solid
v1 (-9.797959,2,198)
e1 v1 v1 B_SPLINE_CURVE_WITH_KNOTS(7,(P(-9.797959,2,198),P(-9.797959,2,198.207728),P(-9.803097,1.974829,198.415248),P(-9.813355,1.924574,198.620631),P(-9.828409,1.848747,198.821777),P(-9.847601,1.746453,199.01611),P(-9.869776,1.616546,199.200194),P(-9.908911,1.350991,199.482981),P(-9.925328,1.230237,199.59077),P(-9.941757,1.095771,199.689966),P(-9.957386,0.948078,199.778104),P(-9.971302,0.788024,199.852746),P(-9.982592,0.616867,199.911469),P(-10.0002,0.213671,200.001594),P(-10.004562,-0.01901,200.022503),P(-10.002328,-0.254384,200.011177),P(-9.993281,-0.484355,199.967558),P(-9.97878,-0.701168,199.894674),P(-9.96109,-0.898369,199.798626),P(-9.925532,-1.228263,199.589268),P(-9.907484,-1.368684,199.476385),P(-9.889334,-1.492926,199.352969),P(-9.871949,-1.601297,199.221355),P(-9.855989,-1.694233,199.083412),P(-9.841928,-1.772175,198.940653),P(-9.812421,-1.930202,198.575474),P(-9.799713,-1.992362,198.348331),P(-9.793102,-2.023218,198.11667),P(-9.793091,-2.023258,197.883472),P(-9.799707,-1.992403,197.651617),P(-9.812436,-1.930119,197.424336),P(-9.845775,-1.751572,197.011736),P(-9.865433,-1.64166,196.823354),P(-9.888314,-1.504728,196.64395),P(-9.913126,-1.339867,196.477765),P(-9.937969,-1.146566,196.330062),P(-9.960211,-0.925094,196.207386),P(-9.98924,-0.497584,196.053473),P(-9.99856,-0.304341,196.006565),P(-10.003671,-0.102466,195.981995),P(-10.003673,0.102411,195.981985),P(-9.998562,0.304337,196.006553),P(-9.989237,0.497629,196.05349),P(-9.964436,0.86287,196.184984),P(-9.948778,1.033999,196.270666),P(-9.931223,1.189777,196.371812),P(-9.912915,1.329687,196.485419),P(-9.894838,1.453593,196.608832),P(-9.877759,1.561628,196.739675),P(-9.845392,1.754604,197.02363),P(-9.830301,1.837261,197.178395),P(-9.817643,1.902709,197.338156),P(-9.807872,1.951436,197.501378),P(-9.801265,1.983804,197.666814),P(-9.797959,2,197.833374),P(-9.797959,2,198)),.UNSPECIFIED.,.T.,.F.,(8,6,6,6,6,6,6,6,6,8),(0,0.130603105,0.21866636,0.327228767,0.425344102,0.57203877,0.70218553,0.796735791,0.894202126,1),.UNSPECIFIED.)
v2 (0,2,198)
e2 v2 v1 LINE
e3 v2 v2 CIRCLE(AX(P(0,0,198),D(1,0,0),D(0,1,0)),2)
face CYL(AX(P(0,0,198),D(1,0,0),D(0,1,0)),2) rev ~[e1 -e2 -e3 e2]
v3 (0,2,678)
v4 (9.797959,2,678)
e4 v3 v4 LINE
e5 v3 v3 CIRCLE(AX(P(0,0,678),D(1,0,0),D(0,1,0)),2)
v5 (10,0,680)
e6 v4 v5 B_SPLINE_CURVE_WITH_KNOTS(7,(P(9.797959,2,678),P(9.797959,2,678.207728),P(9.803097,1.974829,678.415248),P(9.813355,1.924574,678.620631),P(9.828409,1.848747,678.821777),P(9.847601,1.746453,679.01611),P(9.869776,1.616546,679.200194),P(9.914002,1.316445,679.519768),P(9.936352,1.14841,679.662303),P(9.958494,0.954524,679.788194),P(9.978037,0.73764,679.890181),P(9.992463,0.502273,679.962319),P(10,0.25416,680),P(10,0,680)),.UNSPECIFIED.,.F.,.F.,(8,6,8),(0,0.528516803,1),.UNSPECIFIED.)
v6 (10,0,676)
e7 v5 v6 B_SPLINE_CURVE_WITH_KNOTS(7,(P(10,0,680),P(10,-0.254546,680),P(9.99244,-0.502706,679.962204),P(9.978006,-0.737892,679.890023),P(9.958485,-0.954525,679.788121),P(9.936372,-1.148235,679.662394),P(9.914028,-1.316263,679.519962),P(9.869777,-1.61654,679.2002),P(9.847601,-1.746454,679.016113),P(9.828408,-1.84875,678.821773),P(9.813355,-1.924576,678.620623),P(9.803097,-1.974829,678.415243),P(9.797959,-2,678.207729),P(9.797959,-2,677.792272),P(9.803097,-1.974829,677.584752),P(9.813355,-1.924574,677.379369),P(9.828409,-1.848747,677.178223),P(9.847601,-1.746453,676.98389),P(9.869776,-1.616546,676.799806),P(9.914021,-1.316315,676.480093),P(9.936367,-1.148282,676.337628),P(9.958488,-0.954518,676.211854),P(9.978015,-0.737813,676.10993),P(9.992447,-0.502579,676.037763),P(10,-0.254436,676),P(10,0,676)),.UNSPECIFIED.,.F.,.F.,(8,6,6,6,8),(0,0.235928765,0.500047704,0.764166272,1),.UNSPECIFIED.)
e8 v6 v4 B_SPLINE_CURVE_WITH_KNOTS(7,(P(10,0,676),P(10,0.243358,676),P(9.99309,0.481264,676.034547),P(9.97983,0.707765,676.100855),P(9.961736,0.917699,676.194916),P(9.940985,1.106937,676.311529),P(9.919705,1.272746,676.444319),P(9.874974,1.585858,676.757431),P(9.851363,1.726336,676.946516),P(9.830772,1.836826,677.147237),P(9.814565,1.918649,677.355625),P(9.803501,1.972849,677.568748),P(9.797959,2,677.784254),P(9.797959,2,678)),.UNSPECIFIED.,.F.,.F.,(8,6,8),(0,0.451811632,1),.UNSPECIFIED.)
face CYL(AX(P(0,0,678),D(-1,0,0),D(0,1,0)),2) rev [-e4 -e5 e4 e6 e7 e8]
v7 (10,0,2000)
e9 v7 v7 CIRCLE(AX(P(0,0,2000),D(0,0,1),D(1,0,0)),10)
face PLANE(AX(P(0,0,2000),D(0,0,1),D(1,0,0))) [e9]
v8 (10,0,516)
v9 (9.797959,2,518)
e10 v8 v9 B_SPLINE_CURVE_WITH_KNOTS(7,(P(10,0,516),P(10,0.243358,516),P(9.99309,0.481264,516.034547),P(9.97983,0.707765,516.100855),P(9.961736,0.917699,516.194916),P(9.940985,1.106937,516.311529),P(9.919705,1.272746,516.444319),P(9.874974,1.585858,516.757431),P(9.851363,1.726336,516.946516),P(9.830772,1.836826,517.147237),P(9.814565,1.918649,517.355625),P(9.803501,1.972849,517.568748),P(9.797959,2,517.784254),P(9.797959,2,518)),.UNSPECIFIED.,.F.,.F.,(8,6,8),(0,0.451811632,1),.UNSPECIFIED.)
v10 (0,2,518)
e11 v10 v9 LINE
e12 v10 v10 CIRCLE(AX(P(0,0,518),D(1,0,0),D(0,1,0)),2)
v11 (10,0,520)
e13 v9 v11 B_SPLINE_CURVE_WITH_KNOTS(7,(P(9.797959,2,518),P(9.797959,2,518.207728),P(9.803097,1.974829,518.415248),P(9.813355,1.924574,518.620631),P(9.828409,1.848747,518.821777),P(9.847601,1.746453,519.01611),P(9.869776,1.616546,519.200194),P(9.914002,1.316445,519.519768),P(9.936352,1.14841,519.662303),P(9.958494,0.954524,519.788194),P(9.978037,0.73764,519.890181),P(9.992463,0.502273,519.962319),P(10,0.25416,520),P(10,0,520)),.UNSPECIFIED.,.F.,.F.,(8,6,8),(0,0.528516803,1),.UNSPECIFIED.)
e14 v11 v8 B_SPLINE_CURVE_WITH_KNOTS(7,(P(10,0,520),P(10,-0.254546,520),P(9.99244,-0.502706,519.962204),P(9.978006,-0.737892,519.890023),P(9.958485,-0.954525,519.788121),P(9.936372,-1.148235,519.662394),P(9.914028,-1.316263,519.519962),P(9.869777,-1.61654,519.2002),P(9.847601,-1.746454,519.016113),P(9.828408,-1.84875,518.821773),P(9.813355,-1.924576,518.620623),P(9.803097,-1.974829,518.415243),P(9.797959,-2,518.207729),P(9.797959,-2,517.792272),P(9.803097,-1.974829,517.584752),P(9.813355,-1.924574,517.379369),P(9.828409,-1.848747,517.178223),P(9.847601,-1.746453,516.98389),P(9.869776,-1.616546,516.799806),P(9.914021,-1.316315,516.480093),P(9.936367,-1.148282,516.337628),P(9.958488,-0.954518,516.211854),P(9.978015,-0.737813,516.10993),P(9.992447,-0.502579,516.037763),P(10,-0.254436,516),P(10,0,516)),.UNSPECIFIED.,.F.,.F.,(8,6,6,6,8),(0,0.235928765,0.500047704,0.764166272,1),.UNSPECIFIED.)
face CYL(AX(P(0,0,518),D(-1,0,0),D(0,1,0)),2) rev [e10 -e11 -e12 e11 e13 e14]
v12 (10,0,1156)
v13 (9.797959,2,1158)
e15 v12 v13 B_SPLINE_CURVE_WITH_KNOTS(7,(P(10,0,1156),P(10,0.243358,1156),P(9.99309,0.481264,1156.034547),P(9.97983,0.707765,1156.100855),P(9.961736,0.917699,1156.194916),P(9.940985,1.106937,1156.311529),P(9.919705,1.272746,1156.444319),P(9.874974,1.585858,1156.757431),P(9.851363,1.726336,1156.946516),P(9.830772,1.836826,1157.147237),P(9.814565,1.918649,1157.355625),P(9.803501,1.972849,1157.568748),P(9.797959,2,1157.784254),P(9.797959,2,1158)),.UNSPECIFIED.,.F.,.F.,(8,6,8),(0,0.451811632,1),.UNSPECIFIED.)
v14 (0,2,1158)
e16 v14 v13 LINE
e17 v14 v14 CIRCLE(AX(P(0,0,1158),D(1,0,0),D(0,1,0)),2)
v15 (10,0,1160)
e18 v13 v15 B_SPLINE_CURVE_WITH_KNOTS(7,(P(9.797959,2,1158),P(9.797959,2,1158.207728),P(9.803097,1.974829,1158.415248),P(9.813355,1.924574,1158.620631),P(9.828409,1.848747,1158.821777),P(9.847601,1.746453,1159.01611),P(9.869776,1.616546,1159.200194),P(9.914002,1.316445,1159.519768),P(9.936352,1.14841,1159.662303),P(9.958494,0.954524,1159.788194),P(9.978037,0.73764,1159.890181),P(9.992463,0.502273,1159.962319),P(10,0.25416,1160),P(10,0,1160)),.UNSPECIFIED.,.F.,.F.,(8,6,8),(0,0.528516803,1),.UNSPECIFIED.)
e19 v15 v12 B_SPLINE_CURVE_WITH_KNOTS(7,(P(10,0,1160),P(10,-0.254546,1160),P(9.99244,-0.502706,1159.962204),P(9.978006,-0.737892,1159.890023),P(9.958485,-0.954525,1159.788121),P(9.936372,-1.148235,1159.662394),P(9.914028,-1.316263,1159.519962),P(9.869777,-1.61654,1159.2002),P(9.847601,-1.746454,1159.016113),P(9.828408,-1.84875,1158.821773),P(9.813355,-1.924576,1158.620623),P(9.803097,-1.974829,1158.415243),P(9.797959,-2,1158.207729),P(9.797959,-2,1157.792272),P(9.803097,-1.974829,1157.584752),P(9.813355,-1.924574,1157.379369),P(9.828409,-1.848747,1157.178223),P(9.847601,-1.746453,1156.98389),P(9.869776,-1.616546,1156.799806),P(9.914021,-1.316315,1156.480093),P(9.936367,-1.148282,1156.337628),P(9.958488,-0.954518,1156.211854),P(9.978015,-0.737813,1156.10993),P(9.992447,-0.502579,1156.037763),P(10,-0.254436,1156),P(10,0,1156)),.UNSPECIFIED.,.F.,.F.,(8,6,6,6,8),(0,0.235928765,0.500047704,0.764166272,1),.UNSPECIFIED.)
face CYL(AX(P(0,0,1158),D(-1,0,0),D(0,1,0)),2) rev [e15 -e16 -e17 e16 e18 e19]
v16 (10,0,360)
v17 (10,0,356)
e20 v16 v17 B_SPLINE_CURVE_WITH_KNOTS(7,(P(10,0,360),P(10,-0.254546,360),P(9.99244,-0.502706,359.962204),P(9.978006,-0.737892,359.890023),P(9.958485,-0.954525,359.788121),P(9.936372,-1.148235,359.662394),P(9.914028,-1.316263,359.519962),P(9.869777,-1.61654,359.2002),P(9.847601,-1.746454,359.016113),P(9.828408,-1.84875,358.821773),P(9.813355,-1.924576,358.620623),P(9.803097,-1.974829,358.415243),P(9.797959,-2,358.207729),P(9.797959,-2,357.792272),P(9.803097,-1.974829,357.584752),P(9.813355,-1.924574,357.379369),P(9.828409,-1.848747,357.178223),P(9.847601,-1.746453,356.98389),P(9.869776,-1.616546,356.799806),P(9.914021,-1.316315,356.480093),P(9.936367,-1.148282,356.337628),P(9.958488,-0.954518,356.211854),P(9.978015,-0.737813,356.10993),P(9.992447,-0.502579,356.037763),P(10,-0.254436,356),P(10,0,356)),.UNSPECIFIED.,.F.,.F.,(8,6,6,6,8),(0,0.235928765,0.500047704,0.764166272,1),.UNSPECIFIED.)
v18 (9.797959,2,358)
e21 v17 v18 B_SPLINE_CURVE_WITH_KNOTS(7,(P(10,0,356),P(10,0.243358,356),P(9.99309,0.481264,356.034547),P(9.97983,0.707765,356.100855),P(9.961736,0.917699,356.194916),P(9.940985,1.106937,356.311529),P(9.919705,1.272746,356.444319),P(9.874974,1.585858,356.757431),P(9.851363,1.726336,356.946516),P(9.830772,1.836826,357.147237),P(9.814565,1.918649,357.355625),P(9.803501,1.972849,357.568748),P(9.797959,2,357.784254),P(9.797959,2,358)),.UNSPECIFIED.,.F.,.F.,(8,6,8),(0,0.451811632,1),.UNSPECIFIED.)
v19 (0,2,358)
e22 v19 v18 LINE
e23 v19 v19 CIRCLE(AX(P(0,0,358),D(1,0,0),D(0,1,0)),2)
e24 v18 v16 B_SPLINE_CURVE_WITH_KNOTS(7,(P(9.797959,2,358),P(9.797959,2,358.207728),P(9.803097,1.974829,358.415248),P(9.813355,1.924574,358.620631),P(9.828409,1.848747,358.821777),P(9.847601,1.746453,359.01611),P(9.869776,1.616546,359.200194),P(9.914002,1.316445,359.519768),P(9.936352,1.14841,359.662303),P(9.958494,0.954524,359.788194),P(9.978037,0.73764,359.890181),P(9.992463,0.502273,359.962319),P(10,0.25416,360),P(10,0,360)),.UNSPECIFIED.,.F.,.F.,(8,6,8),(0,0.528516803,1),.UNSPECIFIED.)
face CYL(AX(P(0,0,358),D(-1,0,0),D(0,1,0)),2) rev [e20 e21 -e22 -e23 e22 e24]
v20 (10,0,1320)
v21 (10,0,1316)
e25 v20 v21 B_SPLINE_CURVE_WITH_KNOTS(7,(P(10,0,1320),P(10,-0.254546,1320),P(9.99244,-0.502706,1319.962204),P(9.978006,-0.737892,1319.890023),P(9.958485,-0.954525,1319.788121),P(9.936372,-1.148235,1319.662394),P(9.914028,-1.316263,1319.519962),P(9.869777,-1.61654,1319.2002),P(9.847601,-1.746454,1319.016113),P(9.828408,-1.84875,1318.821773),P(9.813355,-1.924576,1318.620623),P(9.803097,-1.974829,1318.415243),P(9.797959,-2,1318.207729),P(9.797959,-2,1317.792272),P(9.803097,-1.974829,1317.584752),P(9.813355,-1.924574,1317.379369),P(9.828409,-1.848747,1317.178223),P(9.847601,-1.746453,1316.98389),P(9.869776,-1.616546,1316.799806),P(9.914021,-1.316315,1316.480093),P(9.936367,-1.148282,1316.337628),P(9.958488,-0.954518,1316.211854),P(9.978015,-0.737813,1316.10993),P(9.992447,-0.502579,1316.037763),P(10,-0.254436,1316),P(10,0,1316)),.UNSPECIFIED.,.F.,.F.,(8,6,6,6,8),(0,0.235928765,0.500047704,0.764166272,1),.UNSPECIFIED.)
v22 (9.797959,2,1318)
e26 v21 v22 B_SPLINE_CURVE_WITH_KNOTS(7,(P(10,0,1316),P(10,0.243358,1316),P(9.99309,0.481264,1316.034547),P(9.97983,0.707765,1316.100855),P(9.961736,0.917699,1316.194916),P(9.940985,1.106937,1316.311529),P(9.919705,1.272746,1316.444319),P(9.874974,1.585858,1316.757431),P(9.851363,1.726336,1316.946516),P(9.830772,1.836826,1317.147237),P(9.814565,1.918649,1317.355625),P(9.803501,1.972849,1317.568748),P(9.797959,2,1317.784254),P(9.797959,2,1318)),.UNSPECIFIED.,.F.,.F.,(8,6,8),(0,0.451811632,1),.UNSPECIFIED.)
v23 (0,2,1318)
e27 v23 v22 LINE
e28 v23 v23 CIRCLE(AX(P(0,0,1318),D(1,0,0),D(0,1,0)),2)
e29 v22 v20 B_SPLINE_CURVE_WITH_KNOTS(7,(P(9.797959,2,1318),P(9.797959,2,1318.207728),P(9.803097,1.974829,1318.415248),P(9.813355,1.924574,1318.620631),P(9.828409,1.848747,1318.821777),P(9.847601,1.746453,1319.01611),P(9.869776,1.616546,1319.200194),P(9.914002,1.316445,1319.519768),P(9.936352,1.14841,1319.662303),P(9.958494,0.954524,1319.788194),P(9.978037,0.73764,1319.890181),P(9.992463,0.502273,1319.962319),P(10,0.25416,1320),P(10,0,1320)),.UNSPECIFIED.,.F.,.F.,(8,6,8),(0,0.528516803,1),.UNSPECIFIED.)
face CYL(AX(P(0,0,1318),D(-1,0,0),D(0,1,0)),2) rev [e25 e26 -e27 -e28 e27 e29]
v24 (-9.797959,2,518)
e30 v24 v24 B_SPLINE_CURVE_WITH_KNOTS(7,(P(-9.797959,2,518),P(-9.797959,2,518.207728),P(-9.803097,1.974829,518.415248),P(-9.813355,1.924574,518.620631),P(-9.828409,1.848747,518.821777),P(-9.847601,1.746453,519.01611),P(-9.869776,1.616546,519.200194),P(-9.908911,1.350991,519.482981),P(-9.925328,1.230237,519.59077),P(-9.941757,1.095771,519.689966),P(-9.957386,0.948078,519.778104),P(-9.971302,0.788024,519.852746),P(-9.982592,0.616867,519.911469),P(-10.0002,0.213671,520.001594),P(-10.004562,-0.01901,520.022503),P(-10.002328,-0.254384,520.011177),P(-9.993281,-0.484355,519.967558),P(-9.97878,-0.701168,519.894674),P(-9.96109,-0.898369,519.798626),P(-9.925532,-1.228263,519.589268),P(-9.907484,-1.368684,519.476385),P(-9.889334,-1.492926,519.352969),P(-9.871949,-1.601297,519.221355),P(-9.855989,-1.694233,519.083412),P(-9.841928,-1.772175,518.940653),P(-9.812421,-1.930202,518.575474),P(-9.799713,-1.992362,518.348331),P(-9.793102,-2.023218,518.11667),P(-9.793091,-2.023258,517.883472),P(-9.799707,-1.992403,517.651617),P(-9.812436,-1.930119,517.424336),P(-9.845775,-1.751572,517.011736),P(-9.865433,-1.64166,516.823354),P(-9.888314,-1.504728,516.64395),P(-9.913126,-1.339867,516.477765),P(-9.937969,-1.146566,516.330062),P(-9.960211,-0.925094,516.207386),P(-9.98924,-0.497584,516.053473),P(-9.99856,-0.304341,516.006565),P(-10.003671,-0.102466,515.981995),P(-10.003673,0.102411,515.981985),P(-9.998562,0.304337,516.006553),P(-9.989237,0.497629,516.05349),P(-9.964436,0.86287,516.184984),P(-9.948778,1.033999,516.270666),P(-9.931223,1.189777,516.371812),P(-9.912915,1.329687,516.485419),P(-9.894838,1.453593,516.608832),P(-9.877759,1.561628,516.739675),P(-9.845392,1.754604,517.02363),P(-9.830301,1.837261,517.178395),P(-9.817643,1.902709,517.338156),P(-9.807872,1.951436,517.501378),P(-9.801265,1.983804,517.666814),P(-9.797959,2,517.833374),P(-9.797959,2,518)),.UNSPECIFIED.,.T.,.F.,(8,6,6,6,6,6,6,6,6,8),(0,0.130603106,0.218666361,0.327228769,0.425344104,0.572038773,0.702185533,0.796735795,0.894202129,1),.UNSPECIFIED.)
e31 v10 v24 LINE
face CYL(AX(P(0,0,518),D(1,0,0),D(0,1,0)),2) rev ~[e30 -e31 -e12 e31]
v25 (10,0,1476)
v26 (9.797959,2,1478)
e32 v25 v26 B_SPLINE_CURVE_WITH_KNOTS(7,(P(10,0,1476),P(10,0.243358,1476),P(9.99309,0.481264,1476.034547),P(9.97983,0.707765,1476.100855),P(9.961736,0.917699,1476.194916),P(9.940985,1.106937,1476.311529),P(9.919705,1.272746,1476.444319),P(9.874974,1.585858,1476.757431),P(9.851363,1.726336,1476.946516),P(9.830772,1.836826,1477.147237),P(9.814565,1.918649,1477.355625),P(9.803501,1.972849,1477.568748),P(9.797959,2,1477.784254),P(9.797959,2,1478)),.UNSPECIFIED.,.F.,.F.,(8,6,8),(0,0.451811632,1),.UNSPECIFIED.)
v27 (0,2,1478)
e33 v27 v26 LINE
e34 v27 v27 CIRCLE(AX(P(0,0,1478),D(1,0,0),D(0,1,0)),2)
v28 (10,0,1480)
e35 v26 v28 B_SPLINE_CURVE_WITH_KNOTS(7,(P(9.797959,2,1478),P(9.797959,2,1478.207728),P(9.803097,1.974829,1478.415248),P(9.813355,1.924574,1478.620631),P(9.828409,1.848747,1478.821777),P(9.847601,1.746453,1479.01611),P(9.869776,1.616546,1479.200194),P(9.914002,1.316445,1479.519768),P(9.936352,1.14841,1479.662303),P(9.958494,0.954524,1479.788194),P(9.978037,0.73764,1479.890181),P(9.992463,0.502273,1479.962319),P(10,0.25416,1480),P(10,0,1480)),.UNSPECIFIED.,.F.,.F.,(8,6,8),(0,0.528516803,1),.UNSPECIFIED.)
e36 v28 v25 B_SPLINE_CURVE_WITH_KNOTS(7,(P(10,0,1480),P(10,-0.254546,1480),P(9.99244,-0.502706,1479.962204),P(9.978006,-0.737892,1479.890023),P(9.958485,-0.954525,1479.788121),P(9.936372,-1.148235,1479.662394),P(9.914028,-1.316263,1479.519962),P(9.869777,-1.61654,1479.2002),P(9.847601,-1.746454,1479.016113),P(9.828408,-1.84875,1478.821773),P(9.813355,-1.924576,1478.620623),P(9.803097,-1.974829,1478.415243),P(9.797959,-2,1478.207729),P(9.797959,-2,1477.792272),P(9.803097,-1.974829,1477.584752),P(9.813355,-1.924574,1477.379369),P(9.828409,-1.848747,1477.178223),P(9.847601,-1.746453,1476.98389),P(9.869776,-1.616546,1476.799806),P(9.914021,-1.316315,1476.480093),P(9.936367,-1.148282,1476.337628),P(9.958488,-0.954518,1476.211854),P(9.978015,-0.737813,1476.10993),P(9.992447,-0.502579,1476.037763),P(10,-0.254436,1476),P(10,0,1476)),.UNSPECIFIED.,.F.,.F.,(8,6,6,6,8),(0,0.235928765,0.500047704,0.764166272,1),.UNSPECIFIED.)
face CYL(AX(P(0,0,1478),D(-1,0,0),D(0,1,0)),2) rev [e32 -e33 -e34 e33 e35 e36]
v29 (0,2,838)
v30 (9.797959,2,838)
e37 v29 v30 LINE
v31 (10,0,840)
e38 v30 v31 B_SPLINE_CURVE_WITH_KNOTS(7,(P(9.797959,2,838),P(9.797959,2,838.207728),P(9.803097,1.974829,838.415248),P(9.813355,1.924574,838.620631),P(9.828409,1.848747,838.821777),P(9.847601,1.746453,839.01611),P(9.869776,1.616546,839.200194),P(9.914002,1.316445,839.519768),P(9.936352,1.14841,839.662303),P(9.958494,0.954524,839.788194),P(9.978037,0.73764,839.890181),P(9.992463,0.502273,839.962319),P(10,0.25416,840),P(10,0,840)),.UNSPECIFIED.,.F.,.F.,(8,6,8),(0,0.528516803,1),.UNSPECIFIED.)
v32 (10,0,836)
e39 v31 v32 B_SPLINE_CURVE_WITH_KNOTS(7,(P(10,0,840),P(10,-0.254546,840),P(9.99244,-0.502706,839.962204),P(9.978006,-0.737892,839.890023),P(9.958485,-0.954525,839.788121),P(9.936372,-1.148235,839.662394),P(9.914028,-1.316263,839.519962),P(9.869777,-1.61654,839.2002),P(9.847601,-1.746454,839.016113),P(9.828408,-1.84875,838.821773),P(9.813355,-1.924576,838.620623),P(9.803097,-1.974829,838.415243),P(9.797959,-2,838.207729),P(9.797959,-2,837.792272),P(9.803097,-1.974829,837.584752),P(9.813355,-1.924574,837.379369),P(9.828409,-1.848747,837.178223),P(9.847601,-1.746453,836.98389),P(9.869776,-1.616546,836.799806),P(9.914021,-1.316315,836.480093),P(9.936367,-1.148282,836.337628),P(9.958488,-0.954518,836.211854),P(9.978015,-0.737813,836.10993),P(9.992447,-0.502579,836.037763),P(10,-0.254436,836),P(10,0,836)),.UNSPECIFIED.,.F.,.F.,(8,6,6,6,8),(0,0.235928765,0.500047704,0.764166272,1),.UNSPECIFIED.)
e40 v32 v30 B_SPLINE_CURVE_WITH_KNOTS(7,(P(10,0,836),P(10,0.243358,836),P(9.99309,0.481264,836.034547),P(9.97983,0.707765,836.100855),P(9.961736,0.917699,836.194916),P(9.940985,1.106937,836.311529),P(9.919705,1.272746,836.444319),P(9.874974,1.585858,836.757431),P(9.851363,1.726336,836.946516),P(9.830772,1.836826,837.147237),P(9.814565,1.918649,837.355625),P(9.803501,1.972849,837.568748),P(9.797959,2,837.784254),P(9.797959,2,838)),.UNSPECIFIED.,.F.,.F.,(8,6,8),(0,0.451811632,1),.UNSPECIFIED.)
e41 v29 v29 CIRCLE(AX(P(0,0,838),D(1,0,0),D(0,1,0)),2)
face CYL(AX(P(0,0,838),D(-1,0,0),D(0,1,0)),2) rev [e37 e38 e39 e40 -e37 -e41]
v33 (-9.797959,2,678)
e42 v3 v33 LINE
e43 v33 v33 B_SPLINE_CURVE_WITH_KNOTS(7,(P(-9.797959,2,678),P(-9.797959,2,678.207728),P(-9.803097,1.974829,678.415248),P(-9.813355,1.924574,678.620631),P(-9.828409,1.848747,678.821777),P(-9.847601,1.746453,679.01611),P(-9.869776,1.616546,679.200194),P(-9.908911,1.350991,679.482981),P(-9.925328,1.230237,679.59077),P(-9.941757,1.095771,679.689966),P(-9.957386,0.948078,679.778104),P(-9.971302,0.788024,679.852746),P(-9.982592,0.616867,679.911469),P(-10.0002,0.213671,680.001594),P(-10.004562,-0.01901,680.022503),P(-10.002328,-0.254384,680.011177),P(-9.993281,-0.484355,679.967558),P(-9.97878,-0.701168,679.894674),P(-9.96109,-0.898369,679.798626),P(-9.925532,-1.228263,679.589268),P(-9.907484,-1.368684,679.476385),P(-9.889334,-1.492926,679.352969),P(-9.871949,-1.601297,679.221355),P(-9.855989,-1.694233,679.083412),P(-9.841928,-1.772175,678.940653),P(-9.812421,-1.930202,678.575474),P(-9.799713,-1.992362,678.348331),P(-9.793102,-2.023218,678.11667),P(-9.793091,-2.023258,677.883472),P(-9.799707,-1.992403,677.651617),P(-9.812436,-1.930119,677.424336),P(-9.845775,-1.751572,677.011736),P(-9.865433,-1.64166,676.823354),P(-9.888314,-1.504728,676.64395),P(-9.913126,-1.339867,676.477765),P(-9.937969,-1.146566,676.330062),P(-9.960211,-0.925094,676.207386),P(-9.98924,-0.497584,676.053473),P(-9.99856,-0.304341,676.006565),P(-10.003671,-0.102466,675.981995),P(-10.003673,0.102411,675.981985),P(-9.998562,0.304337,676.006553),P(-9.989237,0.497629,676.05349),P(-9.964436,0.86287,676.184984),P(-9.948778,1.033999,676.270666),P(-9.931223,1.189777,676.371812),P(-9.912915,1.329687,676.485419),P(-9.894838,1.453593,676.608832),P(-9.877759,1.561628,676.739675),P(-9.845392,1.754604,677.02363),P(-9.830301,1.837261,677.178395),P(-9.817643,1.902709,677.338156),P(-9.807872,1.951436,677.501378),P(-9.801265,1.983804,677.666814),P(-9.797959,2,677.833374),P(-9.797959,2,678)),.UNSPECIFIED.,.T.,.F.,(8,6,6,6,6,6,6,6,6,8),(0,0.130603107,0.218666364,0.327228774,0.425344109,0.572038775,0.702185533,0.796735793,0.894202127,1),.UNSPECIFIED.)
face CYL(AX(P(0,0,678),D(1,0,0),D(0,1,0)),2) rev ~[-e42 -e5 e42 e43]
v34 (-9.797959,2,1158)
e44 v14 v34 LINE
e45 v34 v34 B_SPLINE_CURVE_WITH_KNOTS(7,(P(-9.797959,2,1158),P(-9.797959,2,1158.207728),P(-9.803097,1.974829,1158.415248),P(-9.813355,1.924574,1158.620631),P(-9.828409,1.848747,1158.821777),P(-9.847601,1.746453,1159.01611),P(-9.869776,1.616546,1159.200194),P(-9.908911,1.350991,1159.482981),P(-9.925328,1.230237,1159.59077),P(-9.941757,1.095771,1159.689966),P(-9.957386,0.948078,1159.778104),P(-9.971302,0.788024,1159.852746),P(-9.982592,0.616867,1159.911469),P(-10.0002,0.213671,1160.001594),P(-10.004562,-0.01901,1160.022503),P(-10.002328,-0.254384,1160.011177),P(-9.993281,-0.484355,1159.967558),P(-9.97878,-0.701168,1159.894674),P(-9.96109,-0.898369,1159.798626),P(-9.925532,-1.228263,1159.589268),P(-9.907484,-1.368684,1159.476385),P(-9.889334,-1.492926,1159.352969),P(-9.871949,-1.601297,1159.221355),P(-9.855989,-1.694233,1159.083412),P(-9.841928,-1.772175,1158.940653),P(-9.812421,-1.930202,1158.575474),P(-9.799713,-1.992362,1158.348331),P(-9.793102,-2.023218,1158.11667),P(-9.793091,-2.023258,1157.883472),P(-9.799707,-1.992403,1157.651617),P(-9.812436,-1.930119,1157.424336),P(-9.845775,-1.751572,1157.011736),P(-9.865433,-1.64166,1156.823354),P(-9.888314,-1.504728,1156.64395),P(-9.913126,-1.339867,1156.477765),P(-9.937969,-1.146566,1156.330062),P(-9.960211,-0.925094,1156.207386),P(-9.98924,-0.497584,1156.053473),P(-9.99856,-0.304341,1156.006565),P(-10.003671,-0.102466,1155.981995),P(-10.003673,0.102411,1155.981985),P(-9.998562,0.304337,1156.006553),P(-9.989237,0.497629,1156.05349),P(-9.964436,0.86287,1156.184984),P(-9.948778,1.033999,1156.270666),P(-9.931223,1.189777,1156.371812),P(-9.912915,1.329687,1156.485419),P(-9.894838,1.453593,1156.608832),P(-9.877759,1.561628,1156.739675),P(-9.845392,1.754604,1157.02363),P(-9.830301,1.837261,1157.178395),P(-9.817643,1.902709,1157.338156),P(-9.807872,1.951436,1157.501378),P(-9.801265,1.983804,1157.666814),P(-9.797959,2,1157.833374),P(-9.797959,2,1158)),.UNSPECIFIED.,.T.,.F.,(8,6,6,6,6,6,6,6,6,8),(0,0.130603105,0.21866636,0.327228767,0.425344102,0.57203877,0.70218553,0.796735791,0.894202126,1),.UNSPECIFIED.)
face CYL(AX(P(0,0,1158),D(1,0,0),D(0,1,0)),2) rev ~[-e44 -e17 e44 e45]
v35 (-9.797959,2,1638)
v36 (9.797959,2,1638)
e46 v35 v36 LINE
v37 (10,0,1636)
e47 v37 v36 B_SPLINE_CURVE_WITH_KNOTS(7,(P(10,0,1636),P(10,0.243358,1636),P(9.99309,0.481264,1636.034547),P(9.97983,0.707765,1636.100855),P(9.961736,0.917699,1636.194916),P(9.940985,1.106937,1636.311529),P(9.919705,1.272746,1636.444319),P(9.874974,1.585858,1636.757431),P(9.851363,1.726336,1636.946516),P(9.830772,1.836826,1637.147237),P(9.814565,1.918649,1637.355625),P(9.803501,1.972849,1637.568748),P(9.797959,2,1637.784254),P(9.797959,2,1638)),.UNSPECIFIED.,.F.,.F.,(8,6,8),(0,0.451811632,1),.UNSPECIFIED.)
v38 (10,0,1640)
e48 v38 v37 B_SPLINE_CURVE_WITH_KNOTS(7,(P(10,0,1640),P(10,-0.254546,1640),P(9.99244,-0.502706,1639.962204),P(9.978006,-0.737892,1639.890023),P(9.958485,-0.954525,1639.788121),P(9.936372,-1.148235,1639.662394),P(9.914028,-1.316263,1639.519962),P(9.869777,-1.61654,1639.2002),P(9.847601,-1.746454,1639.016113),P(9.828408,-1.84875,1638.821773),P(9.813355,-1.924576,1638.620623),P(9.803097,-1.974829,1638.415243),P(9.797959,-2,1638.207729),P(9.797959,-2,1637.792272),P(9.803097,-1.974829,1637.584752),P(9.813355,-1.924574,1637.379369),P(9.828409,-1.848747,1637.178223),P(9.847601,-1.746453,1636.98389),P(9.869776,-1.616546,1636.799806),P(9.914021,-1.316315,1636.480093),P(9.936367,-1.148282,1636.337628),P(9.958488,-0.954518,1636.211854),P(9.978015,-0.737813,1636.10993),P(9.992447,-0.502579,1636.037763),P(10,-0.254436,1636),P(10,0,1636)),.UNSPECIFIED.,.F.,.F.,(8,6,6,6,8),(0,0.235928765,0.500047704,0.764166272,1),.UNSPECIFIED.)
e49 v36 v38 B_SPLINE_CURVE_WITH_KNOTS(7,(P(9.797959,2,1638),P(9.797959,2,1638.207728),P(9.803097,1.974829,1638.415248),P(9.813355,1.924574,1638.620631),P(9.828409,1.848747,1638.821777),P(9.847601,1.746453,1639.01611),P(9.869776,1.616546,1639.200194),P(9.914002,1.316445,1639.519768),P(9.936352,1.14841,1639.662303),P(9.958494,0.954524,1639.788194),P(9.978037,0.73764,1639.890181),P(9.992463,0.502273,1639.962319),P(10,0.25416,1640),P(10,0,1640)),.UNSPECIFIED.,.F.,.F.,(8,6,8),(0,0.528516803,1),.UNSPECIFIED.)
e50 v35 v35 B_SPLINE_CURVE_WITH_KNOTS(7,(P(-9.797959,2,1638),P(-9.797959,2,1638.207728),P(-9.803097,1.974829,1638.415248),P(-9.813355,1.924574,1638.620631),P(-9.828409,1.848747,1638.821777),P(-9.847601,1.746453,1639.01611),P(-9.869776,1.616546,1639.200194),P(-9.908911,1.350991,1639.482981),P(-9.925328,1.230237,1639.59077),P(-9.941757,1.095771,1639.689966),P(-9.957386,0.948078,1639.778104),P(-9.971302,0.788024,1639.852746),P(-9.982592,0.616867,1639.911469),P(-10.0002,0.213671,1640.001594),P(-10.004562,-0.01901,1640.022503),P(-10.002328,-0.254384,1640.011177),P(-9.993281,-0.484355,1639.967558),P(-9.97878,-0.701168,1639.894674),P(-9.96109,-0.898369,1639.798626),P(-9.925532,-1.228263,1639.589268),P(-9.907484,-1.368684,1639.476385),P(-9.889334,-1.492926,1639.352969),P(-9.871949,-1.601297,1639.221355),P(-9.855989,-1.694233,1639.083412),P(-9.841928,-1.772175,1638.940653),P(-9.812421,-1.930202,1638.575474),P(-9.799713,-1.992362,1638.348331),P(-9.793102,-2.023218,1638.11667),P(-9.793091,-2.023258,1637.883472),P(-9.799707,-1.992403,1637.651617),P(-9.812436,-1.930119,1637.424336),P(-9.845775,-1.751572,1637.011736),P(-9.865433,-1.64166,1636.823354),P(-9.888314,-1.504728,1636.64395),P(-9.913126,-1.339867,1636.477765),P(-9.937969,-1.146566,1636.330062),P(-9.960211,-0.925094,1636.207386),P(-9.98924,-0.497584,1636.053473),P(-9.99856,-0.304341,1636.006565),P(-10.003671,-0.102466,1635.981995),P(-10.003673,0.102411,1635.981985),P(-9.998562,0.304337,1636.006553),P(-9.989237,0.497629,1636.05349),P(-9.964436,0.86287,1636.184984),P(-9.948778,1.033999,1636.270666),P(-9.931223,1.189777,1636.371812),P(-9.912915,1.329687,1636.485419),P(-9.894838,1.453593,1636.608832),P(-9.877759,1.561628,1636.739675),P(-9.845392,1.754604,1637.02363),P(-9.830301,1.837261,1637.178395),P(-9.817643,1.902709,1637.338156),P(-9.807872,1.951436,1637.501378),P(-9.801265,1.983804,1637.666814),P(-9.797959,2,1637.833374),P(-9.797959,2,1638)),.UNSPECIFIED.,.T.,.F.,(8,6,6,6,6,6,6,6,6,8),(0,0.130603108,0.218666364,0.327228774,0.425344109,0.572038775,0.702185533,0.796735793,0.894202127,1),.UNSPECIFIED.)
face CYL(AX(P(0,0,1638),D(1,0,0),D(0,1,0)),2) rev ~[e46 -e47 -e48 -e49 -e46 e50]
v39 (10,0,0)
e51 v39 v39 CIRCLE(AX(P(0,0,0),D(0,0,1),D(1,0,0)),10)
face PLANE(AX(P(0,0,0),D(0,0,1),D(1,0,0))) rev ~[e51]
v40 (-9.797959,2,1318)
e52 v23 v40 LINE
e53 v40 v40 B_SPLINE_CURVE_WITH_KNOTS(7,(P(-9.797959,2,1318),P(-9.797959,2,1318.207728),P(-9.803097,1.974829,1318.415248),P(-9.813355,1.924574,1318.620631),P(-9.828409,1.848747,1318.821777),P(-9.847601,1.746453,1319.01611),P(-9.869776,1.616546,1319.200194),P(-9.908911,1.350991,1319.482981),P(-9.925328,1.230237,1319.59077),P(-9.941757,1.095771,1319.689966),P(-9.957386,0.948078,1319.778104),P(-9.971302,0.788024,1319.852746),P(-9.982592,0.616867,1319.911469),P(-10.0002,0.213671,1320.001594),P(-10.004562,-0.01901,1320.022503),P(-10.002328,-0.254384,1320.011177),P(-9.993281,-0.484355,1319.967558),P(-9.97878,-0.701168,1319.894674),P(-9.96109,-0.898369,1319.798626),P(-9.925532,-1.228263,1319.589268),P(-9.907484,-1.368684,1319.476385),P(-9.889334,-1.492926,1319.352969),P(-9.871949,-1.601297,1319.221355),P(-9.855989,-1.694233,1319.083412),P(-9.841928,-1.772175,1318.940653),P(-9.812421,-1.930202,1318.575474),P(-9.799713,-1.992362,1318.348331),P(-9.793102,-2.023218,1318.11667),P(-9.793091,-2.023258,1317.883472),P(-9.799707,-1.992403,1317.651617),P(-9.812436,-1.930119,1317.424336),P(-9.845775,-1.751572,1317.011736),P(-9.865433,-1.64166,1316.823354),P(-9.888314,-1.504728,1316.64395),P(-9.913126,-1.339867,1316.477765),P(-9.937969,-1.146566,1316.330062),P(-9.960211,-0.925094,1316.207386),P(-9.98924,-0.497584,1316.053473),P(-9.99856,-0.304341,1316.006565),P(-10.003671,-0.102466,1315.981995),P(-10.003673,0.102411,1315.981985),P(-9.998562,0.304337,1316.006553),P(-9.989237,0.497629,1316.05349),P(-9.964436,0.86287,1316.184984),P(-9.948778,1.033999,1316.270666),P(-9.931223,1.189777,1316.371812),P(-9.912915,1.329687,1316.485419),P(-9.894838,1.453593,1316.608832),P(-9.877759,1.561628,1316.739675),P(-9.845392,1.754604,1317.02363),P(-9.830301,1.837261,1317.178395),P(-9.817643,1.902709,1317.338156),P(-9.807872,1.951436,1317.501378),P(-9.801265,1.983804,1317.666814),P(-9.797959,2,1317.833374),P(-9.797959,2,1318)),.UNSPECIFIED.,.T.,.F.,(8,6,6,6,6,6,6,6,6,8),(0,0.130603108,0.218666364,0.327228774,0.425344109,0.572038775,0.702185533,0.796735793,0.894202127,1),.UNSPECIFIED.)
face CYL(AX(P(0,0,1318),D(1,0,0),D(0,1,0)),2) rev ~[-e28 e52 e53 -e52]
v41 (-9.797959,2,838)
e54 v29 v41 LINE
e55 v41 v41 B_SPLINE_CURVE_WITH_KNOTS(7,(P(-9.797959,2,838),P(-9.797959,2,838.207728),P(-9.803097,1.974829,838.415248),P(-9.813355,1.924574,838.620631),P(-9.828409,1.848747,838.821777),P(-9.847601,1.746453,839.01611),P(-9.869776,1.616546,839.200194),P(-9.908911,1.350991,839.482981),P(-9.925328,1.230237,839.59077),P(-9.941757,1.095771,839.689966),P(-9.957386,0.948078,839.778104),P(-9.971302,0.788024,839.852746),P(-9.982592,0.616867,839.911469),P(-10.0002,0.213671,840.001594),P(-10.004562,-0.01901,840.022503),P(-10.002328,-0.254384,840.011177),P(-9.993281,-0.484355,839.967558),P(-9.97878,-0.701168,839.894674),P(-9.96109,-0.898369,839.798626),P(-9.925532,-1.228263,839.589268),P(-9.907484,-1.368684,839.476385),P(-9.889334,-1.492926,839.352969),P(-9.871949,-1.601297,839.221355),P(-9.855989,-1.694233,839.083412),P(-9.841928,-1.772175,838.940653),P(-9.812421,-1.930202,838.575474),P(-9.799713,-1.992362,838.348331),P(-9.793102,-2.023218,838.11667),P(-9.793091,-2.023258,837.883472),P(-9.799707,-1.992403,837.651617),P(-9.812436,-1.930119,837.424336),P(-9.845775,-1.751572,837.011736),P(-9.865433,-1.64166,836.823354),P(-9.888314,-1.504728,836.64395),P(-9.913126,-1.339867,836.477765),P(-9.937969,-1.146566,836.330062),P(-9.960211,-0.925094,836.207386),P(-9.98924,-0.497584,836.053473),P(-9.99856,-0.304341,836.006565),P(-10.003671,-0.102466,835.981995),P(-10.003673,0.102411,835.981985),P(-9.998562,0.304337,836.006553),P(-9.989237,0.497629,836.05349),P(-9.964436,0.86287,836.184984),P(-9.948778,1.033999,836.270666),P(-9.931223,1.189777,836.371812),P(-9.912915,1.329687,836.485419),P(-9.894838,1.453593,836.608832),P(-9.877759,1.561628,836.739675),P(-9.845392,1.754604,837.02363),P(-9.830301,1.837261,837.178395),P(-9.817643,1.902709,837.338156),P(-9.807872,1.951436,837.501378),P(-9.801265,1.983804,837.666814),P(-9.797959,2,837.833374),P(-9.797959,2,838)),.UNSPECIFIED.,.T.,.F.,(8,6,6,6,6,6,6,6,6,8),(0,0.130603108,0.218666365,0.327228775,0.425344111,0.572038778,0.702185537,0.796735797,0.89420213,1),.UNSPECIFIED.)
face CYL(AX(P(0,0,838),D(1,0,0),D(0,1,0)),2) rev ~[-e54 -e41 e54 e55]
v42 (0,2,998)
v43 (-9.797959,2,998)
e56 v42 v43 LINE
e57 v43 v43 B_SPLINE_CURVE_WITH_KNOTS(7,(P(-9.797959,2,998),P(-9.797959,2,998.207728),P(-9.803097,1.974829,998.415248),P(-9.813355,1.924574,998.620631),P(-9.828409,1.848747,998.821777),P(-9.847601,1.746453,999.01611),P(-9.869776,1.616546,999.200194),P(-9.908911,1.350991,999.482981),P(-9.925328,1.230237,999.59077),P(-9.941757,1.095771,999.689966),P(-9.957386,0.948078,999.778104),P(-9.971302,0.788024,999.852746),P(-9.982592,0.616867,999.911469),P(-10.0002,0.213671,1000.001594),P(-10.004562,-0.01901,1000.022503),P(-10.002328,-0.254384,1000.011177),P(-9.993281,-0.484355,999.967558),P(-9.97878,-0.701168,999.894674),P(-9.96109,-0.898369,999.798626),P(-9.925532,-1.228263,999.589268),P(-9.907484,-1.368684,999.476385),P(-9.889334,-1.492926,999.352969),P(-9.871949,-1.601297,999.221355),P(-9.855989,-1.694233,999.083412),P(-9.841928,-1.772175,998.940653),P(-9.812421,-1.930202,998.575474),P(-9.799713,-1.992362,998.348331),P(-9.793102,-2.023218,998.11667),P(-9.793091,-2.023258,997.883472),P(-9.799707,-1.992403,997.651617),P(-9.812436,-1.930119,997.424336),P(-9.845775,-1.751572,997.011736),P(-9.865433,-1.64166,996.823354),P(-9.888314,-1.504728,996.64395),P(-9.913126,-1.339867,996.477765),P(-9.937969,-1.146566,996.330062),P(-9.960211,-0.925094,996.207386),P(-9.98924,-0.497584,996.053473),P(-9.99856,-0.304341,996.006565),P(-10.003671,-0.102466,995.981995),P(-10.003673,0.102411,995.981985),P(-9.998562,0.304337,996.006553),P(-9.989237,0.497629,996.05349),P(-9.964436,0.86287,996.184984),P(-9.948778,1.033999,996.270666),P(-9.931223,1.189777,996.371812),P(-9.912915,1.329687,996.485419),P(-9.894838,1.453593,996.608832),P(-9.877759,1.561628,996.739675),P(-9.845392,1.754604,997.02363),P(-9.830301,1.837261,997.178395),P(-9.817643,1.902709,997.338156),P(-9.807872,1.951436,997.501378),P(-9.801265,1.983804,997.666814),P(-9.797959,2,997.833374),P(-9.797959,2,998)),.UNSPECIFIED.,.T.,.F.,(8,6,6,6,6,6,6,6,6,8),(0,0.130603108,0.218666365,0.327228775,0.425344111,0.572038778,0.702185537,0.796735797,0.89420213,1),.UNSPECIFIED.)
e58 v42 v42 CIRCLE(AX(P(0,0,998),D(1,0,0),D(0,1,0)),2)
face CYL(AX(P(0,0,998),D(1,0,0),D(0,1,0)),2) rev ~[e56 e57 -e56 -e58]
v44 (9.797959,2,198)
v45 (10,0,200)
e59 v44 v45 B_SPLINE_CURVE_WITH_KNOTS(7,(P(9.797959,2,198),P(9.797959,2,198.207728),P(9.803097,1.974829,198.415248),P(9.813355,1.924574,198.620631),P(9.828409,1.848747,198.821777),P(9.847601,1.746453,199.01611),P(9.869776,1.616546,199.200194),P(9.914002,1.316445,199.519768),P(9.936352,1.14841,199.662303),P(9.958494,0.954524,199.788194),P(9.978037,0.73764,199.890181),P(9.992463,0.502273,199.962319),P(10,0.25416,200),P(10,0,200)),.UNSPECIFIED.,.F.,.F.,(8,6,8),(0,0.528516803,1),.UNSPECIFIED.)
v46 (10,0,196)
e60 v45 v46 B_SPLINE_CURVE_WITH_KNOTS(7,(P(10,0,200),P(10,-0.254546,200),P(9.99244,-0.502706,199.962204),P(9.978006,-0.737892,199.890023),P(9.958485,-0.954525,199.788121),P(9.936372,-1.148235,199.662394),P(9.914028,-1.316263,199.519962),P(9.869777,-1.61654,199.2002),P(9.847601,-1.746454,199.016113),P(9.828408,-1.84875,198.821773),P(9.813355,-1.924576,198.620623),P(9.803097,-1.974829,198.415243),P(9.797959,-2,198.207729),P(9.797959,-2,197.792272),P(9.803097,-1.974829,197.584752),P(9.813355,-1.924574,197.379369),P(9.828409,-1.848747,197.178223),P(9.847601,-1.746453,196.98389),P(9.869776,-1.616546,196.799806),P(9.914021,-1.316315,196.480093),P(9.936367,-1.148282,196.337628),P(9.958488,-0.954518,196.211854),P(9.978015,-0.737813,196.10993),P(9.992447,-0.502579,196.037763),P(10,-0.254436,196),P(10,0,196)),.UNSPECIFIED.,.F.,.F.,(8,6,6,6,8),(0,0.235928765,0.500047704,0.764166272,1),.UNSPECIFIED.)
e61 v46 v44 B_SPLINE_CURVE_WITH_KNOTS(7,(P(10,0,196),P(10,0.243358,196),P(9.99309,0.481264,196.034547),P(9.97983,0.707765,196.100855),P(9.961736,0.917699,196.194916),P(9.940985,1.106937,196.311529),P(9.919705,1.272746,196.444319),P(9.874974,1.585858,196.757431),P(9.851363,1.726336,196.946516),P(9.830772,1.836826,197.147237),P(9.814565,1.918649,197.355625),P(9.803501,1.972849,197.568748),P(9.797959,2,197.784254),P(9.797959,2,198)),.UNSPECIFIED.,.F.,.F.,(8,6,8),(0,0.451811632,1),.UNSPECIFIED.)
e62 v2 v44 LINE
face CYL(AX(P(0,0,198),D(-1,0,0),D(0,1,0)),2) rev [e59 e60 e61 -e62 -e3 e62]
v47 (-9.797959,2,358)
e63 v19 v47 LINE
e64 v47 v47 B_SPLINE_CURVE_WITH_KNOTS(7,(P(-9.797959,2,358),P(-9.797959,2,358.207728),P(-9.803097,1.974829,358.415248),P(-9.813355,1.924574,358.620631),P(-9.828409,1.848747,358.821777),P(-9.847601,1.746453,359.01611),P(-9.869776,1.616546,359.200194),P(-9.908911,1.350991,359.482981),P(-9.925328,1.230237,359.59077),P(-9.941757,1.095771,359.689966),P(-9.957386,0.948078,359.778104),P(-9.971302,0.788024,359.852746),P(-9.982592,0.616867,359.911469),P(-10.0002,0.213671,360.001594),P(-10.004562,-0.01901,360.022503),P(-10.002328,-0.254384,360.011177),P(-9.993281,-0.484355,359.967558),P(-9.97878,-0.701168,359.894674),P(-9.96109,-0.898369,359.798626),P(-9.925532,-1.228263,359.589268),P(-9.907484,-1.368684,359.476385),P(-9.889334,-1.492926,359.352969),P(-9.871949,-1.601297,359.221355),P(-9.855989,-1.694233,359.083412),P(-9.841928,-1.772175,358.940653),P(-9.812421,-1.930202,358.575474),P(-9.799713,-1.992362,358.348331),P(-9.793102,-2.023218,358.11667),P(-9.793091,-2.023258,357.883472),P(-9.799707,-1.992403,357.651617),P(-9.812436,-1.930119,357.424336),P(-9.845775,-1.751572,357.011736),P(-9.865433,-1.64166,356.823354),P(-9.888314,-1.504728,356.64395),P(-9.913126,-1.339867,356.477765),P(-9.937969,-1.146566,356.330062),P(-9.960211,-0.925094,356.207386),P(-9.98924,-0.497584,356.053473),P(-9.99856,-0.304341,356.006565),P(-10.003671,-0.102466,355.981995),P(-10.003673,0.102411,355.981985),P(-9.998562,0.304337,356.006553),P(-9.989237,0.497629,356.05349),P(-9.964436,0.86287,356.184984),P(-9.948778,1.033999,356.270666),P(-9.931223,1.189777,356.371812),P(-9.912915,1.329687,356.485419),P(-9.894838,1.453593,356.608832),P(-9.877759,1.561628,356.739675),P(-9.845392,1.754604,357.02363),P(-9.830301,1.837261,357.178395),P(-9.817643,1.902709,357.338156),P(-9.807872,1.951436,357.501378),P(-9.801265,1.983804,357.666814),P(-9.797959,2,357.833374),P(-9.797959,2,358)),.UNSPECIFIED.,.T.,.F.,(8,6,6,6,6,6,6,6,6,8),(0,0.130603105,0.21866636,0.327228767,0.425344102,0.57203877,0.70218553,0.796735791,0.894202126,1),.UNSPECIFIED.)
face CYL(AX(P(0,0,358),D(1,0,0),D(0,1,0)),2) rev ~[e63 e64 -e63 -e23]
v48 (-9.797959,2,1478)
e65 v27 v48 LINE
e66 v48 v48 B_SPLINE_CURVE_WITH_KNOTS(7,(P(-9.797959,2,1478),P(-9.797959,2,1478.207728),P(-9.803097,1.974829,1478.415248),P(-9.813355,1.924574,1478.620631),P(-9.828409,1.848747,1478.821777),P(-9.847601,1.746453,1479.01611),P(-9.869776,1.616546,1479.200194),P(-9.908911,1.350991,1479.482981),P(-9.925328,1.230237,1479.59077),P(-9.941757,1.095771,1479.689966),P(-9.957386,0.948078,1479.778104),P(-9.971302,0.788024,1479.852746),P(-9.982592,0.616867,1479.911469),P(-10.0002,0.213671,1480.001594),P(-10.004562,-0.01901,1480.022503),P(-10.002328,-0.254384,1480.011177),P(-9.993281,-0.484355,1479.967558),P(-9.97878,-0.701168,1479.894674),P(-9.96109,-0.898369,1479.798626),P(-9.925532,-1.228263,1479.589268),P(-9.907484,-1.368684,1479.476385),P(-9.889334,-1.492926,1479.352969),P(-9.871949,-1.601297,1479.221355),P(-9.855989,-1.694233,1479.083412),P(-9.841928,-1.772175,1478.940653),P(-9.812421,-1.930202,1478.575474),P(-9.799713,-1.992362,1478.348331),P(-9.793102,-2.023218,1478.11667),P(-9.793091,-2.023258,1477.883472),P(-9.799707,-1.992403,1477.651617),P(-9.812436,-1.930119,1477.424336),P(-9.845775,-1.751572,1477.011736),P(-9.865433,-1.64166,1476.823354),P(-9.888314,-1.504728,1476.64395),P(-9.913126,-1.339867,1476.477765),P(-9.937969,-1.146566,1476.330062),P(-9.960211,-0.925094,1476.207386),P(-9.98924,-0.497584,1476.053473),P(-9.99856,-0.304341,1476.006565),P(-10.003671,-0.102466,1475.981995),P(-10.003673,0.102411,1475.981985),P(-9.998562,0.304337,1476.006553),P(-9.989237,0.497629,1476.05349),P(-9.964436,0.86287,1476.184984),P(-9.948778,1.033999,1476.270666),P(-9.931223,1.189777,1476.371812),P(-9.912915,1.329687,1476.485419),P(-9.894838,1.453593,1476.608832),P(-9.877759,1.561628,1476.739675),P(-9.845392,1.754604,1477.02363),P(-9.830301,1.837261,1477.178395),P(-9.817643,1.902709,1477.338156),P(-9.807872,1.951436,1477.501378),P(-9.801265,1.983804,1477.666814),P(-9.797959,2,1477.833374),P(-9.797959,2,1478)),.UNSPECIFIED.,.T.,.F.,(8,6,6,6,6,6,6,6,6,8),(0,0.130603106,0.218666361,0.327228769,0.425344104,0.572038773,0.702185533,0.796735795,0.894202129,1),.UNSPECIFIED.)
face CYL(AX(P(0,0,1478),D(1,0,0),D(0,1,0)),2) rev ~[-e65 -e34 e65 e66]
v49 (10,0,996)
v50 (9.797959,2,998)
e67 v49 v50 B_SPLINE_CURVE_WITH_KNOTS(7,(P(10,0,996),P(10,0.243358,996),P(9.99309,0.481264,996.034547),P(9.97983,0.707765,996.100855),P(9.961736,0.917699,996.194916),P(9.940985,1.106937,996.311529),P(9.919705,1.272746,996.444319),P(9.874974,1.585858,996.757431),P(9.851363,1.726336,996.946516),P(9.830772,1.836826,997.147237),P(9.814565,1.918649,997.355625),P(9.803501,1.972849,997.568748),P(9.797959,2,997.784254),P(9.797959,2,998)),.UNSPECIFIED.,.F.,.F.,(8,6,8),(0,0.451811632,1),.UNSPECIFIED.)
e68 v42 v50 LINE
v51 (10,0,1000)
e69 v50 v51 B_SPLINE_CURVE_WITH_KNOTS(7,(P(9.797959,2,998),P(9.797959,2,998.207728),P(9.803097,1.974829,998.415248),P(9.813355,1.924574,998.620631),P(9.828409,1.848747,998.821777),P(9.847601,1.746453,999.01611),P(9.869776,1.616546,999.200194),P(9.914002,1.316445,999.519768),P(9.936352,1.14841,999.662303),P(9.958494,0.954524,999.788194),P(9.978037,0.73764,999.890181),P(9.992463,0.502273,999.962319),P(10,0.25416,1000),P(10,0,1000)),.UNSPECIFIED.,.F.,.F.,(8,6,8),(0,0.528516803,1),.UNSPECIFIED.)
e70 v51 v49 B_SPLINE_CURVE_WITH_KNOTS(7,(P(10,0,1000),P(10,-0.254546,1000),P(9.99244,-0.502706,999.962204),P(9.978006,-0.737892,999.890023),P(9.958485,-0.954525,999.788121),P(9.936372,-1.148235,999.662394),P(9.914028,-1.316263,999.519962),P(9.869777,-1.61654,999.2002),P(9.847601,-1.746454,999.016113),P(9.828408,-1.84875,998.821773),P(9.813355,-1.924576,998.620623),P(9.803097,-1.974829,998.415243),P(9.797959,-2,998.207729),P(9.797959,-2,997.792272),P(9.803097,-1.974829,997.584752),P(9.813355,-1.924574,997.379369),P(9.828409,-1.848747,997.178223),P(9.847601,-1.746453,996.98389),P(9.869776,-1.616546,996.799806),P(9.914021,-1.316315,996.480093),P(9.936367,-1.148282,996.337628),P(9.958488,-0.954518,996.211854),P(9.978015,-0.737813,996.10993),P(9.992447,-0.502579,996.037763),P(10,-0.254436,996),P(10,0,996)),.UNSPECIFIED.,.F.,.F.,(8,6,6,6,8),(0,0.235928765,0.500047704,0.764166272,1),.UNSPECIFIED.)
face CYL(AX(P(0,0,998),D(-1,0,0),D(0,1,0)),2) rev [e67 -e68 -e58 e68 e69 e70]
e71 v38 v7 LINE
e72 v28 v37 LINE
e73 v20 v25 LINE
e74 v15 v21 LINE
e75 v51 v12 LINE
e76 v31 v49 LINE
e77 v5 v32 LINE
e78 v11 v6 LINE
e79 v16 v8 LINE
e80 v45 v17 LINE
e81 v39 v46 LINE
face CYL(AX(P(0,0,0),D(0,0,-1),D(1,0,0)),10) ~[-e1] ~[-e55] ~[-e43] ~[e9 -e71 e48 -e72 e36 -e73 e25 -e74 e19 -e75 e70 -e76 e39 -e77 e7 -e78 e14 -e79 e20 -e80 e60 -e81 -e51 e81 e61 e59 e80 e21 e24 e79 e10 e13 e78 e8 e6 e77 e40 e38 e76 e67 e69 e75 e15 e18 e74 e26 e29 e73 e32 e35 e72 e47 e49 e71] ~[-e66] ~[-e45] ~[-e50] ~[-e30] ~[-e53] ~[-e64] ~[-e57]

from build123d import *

# Parameters (mm, degrees)
F0_R     = 10
F1_DEPTH = 2000
F2_R     = 2
F3_DEPTH = 12.5


with BuildPart() as f1:
    # F0 (on Top) → F1 (new body)
    with BuildSketch(Plane.XY):
        Circle(F0_R)
    extrude(amount=F1_DEPTH)

    # F2 (on Right) → F3 (cut, symmetric)
    with BuildSketch(Plane.YZ):
        with Locations((0, 198)):
            Circle(F2_R)
        with Locations((0, 358)):
            Circle(F2_R)
        with Locations((0, 518)):
            Circle(F2_R)
        with Locations((0, 678)):
            Circle(F2_R)
        with Locations((0, 838)):
            Circle(F2_R)
        with Locations((0, 998)):
            Circle(F2_R)
        with Locations((0, 1158)):
            Circle(F2_R)
        with Locations((0, 1318)):
            Circle(F2_R)
        with Locations((0, 1478)):
            Circle(F2_R)
        with Locations((0, 1638)):
            Circle(F2_R)
    extrude(amount=F3_DEPTH, both=True, mode=Mode.SUBTRACT)


solid = f1.part
